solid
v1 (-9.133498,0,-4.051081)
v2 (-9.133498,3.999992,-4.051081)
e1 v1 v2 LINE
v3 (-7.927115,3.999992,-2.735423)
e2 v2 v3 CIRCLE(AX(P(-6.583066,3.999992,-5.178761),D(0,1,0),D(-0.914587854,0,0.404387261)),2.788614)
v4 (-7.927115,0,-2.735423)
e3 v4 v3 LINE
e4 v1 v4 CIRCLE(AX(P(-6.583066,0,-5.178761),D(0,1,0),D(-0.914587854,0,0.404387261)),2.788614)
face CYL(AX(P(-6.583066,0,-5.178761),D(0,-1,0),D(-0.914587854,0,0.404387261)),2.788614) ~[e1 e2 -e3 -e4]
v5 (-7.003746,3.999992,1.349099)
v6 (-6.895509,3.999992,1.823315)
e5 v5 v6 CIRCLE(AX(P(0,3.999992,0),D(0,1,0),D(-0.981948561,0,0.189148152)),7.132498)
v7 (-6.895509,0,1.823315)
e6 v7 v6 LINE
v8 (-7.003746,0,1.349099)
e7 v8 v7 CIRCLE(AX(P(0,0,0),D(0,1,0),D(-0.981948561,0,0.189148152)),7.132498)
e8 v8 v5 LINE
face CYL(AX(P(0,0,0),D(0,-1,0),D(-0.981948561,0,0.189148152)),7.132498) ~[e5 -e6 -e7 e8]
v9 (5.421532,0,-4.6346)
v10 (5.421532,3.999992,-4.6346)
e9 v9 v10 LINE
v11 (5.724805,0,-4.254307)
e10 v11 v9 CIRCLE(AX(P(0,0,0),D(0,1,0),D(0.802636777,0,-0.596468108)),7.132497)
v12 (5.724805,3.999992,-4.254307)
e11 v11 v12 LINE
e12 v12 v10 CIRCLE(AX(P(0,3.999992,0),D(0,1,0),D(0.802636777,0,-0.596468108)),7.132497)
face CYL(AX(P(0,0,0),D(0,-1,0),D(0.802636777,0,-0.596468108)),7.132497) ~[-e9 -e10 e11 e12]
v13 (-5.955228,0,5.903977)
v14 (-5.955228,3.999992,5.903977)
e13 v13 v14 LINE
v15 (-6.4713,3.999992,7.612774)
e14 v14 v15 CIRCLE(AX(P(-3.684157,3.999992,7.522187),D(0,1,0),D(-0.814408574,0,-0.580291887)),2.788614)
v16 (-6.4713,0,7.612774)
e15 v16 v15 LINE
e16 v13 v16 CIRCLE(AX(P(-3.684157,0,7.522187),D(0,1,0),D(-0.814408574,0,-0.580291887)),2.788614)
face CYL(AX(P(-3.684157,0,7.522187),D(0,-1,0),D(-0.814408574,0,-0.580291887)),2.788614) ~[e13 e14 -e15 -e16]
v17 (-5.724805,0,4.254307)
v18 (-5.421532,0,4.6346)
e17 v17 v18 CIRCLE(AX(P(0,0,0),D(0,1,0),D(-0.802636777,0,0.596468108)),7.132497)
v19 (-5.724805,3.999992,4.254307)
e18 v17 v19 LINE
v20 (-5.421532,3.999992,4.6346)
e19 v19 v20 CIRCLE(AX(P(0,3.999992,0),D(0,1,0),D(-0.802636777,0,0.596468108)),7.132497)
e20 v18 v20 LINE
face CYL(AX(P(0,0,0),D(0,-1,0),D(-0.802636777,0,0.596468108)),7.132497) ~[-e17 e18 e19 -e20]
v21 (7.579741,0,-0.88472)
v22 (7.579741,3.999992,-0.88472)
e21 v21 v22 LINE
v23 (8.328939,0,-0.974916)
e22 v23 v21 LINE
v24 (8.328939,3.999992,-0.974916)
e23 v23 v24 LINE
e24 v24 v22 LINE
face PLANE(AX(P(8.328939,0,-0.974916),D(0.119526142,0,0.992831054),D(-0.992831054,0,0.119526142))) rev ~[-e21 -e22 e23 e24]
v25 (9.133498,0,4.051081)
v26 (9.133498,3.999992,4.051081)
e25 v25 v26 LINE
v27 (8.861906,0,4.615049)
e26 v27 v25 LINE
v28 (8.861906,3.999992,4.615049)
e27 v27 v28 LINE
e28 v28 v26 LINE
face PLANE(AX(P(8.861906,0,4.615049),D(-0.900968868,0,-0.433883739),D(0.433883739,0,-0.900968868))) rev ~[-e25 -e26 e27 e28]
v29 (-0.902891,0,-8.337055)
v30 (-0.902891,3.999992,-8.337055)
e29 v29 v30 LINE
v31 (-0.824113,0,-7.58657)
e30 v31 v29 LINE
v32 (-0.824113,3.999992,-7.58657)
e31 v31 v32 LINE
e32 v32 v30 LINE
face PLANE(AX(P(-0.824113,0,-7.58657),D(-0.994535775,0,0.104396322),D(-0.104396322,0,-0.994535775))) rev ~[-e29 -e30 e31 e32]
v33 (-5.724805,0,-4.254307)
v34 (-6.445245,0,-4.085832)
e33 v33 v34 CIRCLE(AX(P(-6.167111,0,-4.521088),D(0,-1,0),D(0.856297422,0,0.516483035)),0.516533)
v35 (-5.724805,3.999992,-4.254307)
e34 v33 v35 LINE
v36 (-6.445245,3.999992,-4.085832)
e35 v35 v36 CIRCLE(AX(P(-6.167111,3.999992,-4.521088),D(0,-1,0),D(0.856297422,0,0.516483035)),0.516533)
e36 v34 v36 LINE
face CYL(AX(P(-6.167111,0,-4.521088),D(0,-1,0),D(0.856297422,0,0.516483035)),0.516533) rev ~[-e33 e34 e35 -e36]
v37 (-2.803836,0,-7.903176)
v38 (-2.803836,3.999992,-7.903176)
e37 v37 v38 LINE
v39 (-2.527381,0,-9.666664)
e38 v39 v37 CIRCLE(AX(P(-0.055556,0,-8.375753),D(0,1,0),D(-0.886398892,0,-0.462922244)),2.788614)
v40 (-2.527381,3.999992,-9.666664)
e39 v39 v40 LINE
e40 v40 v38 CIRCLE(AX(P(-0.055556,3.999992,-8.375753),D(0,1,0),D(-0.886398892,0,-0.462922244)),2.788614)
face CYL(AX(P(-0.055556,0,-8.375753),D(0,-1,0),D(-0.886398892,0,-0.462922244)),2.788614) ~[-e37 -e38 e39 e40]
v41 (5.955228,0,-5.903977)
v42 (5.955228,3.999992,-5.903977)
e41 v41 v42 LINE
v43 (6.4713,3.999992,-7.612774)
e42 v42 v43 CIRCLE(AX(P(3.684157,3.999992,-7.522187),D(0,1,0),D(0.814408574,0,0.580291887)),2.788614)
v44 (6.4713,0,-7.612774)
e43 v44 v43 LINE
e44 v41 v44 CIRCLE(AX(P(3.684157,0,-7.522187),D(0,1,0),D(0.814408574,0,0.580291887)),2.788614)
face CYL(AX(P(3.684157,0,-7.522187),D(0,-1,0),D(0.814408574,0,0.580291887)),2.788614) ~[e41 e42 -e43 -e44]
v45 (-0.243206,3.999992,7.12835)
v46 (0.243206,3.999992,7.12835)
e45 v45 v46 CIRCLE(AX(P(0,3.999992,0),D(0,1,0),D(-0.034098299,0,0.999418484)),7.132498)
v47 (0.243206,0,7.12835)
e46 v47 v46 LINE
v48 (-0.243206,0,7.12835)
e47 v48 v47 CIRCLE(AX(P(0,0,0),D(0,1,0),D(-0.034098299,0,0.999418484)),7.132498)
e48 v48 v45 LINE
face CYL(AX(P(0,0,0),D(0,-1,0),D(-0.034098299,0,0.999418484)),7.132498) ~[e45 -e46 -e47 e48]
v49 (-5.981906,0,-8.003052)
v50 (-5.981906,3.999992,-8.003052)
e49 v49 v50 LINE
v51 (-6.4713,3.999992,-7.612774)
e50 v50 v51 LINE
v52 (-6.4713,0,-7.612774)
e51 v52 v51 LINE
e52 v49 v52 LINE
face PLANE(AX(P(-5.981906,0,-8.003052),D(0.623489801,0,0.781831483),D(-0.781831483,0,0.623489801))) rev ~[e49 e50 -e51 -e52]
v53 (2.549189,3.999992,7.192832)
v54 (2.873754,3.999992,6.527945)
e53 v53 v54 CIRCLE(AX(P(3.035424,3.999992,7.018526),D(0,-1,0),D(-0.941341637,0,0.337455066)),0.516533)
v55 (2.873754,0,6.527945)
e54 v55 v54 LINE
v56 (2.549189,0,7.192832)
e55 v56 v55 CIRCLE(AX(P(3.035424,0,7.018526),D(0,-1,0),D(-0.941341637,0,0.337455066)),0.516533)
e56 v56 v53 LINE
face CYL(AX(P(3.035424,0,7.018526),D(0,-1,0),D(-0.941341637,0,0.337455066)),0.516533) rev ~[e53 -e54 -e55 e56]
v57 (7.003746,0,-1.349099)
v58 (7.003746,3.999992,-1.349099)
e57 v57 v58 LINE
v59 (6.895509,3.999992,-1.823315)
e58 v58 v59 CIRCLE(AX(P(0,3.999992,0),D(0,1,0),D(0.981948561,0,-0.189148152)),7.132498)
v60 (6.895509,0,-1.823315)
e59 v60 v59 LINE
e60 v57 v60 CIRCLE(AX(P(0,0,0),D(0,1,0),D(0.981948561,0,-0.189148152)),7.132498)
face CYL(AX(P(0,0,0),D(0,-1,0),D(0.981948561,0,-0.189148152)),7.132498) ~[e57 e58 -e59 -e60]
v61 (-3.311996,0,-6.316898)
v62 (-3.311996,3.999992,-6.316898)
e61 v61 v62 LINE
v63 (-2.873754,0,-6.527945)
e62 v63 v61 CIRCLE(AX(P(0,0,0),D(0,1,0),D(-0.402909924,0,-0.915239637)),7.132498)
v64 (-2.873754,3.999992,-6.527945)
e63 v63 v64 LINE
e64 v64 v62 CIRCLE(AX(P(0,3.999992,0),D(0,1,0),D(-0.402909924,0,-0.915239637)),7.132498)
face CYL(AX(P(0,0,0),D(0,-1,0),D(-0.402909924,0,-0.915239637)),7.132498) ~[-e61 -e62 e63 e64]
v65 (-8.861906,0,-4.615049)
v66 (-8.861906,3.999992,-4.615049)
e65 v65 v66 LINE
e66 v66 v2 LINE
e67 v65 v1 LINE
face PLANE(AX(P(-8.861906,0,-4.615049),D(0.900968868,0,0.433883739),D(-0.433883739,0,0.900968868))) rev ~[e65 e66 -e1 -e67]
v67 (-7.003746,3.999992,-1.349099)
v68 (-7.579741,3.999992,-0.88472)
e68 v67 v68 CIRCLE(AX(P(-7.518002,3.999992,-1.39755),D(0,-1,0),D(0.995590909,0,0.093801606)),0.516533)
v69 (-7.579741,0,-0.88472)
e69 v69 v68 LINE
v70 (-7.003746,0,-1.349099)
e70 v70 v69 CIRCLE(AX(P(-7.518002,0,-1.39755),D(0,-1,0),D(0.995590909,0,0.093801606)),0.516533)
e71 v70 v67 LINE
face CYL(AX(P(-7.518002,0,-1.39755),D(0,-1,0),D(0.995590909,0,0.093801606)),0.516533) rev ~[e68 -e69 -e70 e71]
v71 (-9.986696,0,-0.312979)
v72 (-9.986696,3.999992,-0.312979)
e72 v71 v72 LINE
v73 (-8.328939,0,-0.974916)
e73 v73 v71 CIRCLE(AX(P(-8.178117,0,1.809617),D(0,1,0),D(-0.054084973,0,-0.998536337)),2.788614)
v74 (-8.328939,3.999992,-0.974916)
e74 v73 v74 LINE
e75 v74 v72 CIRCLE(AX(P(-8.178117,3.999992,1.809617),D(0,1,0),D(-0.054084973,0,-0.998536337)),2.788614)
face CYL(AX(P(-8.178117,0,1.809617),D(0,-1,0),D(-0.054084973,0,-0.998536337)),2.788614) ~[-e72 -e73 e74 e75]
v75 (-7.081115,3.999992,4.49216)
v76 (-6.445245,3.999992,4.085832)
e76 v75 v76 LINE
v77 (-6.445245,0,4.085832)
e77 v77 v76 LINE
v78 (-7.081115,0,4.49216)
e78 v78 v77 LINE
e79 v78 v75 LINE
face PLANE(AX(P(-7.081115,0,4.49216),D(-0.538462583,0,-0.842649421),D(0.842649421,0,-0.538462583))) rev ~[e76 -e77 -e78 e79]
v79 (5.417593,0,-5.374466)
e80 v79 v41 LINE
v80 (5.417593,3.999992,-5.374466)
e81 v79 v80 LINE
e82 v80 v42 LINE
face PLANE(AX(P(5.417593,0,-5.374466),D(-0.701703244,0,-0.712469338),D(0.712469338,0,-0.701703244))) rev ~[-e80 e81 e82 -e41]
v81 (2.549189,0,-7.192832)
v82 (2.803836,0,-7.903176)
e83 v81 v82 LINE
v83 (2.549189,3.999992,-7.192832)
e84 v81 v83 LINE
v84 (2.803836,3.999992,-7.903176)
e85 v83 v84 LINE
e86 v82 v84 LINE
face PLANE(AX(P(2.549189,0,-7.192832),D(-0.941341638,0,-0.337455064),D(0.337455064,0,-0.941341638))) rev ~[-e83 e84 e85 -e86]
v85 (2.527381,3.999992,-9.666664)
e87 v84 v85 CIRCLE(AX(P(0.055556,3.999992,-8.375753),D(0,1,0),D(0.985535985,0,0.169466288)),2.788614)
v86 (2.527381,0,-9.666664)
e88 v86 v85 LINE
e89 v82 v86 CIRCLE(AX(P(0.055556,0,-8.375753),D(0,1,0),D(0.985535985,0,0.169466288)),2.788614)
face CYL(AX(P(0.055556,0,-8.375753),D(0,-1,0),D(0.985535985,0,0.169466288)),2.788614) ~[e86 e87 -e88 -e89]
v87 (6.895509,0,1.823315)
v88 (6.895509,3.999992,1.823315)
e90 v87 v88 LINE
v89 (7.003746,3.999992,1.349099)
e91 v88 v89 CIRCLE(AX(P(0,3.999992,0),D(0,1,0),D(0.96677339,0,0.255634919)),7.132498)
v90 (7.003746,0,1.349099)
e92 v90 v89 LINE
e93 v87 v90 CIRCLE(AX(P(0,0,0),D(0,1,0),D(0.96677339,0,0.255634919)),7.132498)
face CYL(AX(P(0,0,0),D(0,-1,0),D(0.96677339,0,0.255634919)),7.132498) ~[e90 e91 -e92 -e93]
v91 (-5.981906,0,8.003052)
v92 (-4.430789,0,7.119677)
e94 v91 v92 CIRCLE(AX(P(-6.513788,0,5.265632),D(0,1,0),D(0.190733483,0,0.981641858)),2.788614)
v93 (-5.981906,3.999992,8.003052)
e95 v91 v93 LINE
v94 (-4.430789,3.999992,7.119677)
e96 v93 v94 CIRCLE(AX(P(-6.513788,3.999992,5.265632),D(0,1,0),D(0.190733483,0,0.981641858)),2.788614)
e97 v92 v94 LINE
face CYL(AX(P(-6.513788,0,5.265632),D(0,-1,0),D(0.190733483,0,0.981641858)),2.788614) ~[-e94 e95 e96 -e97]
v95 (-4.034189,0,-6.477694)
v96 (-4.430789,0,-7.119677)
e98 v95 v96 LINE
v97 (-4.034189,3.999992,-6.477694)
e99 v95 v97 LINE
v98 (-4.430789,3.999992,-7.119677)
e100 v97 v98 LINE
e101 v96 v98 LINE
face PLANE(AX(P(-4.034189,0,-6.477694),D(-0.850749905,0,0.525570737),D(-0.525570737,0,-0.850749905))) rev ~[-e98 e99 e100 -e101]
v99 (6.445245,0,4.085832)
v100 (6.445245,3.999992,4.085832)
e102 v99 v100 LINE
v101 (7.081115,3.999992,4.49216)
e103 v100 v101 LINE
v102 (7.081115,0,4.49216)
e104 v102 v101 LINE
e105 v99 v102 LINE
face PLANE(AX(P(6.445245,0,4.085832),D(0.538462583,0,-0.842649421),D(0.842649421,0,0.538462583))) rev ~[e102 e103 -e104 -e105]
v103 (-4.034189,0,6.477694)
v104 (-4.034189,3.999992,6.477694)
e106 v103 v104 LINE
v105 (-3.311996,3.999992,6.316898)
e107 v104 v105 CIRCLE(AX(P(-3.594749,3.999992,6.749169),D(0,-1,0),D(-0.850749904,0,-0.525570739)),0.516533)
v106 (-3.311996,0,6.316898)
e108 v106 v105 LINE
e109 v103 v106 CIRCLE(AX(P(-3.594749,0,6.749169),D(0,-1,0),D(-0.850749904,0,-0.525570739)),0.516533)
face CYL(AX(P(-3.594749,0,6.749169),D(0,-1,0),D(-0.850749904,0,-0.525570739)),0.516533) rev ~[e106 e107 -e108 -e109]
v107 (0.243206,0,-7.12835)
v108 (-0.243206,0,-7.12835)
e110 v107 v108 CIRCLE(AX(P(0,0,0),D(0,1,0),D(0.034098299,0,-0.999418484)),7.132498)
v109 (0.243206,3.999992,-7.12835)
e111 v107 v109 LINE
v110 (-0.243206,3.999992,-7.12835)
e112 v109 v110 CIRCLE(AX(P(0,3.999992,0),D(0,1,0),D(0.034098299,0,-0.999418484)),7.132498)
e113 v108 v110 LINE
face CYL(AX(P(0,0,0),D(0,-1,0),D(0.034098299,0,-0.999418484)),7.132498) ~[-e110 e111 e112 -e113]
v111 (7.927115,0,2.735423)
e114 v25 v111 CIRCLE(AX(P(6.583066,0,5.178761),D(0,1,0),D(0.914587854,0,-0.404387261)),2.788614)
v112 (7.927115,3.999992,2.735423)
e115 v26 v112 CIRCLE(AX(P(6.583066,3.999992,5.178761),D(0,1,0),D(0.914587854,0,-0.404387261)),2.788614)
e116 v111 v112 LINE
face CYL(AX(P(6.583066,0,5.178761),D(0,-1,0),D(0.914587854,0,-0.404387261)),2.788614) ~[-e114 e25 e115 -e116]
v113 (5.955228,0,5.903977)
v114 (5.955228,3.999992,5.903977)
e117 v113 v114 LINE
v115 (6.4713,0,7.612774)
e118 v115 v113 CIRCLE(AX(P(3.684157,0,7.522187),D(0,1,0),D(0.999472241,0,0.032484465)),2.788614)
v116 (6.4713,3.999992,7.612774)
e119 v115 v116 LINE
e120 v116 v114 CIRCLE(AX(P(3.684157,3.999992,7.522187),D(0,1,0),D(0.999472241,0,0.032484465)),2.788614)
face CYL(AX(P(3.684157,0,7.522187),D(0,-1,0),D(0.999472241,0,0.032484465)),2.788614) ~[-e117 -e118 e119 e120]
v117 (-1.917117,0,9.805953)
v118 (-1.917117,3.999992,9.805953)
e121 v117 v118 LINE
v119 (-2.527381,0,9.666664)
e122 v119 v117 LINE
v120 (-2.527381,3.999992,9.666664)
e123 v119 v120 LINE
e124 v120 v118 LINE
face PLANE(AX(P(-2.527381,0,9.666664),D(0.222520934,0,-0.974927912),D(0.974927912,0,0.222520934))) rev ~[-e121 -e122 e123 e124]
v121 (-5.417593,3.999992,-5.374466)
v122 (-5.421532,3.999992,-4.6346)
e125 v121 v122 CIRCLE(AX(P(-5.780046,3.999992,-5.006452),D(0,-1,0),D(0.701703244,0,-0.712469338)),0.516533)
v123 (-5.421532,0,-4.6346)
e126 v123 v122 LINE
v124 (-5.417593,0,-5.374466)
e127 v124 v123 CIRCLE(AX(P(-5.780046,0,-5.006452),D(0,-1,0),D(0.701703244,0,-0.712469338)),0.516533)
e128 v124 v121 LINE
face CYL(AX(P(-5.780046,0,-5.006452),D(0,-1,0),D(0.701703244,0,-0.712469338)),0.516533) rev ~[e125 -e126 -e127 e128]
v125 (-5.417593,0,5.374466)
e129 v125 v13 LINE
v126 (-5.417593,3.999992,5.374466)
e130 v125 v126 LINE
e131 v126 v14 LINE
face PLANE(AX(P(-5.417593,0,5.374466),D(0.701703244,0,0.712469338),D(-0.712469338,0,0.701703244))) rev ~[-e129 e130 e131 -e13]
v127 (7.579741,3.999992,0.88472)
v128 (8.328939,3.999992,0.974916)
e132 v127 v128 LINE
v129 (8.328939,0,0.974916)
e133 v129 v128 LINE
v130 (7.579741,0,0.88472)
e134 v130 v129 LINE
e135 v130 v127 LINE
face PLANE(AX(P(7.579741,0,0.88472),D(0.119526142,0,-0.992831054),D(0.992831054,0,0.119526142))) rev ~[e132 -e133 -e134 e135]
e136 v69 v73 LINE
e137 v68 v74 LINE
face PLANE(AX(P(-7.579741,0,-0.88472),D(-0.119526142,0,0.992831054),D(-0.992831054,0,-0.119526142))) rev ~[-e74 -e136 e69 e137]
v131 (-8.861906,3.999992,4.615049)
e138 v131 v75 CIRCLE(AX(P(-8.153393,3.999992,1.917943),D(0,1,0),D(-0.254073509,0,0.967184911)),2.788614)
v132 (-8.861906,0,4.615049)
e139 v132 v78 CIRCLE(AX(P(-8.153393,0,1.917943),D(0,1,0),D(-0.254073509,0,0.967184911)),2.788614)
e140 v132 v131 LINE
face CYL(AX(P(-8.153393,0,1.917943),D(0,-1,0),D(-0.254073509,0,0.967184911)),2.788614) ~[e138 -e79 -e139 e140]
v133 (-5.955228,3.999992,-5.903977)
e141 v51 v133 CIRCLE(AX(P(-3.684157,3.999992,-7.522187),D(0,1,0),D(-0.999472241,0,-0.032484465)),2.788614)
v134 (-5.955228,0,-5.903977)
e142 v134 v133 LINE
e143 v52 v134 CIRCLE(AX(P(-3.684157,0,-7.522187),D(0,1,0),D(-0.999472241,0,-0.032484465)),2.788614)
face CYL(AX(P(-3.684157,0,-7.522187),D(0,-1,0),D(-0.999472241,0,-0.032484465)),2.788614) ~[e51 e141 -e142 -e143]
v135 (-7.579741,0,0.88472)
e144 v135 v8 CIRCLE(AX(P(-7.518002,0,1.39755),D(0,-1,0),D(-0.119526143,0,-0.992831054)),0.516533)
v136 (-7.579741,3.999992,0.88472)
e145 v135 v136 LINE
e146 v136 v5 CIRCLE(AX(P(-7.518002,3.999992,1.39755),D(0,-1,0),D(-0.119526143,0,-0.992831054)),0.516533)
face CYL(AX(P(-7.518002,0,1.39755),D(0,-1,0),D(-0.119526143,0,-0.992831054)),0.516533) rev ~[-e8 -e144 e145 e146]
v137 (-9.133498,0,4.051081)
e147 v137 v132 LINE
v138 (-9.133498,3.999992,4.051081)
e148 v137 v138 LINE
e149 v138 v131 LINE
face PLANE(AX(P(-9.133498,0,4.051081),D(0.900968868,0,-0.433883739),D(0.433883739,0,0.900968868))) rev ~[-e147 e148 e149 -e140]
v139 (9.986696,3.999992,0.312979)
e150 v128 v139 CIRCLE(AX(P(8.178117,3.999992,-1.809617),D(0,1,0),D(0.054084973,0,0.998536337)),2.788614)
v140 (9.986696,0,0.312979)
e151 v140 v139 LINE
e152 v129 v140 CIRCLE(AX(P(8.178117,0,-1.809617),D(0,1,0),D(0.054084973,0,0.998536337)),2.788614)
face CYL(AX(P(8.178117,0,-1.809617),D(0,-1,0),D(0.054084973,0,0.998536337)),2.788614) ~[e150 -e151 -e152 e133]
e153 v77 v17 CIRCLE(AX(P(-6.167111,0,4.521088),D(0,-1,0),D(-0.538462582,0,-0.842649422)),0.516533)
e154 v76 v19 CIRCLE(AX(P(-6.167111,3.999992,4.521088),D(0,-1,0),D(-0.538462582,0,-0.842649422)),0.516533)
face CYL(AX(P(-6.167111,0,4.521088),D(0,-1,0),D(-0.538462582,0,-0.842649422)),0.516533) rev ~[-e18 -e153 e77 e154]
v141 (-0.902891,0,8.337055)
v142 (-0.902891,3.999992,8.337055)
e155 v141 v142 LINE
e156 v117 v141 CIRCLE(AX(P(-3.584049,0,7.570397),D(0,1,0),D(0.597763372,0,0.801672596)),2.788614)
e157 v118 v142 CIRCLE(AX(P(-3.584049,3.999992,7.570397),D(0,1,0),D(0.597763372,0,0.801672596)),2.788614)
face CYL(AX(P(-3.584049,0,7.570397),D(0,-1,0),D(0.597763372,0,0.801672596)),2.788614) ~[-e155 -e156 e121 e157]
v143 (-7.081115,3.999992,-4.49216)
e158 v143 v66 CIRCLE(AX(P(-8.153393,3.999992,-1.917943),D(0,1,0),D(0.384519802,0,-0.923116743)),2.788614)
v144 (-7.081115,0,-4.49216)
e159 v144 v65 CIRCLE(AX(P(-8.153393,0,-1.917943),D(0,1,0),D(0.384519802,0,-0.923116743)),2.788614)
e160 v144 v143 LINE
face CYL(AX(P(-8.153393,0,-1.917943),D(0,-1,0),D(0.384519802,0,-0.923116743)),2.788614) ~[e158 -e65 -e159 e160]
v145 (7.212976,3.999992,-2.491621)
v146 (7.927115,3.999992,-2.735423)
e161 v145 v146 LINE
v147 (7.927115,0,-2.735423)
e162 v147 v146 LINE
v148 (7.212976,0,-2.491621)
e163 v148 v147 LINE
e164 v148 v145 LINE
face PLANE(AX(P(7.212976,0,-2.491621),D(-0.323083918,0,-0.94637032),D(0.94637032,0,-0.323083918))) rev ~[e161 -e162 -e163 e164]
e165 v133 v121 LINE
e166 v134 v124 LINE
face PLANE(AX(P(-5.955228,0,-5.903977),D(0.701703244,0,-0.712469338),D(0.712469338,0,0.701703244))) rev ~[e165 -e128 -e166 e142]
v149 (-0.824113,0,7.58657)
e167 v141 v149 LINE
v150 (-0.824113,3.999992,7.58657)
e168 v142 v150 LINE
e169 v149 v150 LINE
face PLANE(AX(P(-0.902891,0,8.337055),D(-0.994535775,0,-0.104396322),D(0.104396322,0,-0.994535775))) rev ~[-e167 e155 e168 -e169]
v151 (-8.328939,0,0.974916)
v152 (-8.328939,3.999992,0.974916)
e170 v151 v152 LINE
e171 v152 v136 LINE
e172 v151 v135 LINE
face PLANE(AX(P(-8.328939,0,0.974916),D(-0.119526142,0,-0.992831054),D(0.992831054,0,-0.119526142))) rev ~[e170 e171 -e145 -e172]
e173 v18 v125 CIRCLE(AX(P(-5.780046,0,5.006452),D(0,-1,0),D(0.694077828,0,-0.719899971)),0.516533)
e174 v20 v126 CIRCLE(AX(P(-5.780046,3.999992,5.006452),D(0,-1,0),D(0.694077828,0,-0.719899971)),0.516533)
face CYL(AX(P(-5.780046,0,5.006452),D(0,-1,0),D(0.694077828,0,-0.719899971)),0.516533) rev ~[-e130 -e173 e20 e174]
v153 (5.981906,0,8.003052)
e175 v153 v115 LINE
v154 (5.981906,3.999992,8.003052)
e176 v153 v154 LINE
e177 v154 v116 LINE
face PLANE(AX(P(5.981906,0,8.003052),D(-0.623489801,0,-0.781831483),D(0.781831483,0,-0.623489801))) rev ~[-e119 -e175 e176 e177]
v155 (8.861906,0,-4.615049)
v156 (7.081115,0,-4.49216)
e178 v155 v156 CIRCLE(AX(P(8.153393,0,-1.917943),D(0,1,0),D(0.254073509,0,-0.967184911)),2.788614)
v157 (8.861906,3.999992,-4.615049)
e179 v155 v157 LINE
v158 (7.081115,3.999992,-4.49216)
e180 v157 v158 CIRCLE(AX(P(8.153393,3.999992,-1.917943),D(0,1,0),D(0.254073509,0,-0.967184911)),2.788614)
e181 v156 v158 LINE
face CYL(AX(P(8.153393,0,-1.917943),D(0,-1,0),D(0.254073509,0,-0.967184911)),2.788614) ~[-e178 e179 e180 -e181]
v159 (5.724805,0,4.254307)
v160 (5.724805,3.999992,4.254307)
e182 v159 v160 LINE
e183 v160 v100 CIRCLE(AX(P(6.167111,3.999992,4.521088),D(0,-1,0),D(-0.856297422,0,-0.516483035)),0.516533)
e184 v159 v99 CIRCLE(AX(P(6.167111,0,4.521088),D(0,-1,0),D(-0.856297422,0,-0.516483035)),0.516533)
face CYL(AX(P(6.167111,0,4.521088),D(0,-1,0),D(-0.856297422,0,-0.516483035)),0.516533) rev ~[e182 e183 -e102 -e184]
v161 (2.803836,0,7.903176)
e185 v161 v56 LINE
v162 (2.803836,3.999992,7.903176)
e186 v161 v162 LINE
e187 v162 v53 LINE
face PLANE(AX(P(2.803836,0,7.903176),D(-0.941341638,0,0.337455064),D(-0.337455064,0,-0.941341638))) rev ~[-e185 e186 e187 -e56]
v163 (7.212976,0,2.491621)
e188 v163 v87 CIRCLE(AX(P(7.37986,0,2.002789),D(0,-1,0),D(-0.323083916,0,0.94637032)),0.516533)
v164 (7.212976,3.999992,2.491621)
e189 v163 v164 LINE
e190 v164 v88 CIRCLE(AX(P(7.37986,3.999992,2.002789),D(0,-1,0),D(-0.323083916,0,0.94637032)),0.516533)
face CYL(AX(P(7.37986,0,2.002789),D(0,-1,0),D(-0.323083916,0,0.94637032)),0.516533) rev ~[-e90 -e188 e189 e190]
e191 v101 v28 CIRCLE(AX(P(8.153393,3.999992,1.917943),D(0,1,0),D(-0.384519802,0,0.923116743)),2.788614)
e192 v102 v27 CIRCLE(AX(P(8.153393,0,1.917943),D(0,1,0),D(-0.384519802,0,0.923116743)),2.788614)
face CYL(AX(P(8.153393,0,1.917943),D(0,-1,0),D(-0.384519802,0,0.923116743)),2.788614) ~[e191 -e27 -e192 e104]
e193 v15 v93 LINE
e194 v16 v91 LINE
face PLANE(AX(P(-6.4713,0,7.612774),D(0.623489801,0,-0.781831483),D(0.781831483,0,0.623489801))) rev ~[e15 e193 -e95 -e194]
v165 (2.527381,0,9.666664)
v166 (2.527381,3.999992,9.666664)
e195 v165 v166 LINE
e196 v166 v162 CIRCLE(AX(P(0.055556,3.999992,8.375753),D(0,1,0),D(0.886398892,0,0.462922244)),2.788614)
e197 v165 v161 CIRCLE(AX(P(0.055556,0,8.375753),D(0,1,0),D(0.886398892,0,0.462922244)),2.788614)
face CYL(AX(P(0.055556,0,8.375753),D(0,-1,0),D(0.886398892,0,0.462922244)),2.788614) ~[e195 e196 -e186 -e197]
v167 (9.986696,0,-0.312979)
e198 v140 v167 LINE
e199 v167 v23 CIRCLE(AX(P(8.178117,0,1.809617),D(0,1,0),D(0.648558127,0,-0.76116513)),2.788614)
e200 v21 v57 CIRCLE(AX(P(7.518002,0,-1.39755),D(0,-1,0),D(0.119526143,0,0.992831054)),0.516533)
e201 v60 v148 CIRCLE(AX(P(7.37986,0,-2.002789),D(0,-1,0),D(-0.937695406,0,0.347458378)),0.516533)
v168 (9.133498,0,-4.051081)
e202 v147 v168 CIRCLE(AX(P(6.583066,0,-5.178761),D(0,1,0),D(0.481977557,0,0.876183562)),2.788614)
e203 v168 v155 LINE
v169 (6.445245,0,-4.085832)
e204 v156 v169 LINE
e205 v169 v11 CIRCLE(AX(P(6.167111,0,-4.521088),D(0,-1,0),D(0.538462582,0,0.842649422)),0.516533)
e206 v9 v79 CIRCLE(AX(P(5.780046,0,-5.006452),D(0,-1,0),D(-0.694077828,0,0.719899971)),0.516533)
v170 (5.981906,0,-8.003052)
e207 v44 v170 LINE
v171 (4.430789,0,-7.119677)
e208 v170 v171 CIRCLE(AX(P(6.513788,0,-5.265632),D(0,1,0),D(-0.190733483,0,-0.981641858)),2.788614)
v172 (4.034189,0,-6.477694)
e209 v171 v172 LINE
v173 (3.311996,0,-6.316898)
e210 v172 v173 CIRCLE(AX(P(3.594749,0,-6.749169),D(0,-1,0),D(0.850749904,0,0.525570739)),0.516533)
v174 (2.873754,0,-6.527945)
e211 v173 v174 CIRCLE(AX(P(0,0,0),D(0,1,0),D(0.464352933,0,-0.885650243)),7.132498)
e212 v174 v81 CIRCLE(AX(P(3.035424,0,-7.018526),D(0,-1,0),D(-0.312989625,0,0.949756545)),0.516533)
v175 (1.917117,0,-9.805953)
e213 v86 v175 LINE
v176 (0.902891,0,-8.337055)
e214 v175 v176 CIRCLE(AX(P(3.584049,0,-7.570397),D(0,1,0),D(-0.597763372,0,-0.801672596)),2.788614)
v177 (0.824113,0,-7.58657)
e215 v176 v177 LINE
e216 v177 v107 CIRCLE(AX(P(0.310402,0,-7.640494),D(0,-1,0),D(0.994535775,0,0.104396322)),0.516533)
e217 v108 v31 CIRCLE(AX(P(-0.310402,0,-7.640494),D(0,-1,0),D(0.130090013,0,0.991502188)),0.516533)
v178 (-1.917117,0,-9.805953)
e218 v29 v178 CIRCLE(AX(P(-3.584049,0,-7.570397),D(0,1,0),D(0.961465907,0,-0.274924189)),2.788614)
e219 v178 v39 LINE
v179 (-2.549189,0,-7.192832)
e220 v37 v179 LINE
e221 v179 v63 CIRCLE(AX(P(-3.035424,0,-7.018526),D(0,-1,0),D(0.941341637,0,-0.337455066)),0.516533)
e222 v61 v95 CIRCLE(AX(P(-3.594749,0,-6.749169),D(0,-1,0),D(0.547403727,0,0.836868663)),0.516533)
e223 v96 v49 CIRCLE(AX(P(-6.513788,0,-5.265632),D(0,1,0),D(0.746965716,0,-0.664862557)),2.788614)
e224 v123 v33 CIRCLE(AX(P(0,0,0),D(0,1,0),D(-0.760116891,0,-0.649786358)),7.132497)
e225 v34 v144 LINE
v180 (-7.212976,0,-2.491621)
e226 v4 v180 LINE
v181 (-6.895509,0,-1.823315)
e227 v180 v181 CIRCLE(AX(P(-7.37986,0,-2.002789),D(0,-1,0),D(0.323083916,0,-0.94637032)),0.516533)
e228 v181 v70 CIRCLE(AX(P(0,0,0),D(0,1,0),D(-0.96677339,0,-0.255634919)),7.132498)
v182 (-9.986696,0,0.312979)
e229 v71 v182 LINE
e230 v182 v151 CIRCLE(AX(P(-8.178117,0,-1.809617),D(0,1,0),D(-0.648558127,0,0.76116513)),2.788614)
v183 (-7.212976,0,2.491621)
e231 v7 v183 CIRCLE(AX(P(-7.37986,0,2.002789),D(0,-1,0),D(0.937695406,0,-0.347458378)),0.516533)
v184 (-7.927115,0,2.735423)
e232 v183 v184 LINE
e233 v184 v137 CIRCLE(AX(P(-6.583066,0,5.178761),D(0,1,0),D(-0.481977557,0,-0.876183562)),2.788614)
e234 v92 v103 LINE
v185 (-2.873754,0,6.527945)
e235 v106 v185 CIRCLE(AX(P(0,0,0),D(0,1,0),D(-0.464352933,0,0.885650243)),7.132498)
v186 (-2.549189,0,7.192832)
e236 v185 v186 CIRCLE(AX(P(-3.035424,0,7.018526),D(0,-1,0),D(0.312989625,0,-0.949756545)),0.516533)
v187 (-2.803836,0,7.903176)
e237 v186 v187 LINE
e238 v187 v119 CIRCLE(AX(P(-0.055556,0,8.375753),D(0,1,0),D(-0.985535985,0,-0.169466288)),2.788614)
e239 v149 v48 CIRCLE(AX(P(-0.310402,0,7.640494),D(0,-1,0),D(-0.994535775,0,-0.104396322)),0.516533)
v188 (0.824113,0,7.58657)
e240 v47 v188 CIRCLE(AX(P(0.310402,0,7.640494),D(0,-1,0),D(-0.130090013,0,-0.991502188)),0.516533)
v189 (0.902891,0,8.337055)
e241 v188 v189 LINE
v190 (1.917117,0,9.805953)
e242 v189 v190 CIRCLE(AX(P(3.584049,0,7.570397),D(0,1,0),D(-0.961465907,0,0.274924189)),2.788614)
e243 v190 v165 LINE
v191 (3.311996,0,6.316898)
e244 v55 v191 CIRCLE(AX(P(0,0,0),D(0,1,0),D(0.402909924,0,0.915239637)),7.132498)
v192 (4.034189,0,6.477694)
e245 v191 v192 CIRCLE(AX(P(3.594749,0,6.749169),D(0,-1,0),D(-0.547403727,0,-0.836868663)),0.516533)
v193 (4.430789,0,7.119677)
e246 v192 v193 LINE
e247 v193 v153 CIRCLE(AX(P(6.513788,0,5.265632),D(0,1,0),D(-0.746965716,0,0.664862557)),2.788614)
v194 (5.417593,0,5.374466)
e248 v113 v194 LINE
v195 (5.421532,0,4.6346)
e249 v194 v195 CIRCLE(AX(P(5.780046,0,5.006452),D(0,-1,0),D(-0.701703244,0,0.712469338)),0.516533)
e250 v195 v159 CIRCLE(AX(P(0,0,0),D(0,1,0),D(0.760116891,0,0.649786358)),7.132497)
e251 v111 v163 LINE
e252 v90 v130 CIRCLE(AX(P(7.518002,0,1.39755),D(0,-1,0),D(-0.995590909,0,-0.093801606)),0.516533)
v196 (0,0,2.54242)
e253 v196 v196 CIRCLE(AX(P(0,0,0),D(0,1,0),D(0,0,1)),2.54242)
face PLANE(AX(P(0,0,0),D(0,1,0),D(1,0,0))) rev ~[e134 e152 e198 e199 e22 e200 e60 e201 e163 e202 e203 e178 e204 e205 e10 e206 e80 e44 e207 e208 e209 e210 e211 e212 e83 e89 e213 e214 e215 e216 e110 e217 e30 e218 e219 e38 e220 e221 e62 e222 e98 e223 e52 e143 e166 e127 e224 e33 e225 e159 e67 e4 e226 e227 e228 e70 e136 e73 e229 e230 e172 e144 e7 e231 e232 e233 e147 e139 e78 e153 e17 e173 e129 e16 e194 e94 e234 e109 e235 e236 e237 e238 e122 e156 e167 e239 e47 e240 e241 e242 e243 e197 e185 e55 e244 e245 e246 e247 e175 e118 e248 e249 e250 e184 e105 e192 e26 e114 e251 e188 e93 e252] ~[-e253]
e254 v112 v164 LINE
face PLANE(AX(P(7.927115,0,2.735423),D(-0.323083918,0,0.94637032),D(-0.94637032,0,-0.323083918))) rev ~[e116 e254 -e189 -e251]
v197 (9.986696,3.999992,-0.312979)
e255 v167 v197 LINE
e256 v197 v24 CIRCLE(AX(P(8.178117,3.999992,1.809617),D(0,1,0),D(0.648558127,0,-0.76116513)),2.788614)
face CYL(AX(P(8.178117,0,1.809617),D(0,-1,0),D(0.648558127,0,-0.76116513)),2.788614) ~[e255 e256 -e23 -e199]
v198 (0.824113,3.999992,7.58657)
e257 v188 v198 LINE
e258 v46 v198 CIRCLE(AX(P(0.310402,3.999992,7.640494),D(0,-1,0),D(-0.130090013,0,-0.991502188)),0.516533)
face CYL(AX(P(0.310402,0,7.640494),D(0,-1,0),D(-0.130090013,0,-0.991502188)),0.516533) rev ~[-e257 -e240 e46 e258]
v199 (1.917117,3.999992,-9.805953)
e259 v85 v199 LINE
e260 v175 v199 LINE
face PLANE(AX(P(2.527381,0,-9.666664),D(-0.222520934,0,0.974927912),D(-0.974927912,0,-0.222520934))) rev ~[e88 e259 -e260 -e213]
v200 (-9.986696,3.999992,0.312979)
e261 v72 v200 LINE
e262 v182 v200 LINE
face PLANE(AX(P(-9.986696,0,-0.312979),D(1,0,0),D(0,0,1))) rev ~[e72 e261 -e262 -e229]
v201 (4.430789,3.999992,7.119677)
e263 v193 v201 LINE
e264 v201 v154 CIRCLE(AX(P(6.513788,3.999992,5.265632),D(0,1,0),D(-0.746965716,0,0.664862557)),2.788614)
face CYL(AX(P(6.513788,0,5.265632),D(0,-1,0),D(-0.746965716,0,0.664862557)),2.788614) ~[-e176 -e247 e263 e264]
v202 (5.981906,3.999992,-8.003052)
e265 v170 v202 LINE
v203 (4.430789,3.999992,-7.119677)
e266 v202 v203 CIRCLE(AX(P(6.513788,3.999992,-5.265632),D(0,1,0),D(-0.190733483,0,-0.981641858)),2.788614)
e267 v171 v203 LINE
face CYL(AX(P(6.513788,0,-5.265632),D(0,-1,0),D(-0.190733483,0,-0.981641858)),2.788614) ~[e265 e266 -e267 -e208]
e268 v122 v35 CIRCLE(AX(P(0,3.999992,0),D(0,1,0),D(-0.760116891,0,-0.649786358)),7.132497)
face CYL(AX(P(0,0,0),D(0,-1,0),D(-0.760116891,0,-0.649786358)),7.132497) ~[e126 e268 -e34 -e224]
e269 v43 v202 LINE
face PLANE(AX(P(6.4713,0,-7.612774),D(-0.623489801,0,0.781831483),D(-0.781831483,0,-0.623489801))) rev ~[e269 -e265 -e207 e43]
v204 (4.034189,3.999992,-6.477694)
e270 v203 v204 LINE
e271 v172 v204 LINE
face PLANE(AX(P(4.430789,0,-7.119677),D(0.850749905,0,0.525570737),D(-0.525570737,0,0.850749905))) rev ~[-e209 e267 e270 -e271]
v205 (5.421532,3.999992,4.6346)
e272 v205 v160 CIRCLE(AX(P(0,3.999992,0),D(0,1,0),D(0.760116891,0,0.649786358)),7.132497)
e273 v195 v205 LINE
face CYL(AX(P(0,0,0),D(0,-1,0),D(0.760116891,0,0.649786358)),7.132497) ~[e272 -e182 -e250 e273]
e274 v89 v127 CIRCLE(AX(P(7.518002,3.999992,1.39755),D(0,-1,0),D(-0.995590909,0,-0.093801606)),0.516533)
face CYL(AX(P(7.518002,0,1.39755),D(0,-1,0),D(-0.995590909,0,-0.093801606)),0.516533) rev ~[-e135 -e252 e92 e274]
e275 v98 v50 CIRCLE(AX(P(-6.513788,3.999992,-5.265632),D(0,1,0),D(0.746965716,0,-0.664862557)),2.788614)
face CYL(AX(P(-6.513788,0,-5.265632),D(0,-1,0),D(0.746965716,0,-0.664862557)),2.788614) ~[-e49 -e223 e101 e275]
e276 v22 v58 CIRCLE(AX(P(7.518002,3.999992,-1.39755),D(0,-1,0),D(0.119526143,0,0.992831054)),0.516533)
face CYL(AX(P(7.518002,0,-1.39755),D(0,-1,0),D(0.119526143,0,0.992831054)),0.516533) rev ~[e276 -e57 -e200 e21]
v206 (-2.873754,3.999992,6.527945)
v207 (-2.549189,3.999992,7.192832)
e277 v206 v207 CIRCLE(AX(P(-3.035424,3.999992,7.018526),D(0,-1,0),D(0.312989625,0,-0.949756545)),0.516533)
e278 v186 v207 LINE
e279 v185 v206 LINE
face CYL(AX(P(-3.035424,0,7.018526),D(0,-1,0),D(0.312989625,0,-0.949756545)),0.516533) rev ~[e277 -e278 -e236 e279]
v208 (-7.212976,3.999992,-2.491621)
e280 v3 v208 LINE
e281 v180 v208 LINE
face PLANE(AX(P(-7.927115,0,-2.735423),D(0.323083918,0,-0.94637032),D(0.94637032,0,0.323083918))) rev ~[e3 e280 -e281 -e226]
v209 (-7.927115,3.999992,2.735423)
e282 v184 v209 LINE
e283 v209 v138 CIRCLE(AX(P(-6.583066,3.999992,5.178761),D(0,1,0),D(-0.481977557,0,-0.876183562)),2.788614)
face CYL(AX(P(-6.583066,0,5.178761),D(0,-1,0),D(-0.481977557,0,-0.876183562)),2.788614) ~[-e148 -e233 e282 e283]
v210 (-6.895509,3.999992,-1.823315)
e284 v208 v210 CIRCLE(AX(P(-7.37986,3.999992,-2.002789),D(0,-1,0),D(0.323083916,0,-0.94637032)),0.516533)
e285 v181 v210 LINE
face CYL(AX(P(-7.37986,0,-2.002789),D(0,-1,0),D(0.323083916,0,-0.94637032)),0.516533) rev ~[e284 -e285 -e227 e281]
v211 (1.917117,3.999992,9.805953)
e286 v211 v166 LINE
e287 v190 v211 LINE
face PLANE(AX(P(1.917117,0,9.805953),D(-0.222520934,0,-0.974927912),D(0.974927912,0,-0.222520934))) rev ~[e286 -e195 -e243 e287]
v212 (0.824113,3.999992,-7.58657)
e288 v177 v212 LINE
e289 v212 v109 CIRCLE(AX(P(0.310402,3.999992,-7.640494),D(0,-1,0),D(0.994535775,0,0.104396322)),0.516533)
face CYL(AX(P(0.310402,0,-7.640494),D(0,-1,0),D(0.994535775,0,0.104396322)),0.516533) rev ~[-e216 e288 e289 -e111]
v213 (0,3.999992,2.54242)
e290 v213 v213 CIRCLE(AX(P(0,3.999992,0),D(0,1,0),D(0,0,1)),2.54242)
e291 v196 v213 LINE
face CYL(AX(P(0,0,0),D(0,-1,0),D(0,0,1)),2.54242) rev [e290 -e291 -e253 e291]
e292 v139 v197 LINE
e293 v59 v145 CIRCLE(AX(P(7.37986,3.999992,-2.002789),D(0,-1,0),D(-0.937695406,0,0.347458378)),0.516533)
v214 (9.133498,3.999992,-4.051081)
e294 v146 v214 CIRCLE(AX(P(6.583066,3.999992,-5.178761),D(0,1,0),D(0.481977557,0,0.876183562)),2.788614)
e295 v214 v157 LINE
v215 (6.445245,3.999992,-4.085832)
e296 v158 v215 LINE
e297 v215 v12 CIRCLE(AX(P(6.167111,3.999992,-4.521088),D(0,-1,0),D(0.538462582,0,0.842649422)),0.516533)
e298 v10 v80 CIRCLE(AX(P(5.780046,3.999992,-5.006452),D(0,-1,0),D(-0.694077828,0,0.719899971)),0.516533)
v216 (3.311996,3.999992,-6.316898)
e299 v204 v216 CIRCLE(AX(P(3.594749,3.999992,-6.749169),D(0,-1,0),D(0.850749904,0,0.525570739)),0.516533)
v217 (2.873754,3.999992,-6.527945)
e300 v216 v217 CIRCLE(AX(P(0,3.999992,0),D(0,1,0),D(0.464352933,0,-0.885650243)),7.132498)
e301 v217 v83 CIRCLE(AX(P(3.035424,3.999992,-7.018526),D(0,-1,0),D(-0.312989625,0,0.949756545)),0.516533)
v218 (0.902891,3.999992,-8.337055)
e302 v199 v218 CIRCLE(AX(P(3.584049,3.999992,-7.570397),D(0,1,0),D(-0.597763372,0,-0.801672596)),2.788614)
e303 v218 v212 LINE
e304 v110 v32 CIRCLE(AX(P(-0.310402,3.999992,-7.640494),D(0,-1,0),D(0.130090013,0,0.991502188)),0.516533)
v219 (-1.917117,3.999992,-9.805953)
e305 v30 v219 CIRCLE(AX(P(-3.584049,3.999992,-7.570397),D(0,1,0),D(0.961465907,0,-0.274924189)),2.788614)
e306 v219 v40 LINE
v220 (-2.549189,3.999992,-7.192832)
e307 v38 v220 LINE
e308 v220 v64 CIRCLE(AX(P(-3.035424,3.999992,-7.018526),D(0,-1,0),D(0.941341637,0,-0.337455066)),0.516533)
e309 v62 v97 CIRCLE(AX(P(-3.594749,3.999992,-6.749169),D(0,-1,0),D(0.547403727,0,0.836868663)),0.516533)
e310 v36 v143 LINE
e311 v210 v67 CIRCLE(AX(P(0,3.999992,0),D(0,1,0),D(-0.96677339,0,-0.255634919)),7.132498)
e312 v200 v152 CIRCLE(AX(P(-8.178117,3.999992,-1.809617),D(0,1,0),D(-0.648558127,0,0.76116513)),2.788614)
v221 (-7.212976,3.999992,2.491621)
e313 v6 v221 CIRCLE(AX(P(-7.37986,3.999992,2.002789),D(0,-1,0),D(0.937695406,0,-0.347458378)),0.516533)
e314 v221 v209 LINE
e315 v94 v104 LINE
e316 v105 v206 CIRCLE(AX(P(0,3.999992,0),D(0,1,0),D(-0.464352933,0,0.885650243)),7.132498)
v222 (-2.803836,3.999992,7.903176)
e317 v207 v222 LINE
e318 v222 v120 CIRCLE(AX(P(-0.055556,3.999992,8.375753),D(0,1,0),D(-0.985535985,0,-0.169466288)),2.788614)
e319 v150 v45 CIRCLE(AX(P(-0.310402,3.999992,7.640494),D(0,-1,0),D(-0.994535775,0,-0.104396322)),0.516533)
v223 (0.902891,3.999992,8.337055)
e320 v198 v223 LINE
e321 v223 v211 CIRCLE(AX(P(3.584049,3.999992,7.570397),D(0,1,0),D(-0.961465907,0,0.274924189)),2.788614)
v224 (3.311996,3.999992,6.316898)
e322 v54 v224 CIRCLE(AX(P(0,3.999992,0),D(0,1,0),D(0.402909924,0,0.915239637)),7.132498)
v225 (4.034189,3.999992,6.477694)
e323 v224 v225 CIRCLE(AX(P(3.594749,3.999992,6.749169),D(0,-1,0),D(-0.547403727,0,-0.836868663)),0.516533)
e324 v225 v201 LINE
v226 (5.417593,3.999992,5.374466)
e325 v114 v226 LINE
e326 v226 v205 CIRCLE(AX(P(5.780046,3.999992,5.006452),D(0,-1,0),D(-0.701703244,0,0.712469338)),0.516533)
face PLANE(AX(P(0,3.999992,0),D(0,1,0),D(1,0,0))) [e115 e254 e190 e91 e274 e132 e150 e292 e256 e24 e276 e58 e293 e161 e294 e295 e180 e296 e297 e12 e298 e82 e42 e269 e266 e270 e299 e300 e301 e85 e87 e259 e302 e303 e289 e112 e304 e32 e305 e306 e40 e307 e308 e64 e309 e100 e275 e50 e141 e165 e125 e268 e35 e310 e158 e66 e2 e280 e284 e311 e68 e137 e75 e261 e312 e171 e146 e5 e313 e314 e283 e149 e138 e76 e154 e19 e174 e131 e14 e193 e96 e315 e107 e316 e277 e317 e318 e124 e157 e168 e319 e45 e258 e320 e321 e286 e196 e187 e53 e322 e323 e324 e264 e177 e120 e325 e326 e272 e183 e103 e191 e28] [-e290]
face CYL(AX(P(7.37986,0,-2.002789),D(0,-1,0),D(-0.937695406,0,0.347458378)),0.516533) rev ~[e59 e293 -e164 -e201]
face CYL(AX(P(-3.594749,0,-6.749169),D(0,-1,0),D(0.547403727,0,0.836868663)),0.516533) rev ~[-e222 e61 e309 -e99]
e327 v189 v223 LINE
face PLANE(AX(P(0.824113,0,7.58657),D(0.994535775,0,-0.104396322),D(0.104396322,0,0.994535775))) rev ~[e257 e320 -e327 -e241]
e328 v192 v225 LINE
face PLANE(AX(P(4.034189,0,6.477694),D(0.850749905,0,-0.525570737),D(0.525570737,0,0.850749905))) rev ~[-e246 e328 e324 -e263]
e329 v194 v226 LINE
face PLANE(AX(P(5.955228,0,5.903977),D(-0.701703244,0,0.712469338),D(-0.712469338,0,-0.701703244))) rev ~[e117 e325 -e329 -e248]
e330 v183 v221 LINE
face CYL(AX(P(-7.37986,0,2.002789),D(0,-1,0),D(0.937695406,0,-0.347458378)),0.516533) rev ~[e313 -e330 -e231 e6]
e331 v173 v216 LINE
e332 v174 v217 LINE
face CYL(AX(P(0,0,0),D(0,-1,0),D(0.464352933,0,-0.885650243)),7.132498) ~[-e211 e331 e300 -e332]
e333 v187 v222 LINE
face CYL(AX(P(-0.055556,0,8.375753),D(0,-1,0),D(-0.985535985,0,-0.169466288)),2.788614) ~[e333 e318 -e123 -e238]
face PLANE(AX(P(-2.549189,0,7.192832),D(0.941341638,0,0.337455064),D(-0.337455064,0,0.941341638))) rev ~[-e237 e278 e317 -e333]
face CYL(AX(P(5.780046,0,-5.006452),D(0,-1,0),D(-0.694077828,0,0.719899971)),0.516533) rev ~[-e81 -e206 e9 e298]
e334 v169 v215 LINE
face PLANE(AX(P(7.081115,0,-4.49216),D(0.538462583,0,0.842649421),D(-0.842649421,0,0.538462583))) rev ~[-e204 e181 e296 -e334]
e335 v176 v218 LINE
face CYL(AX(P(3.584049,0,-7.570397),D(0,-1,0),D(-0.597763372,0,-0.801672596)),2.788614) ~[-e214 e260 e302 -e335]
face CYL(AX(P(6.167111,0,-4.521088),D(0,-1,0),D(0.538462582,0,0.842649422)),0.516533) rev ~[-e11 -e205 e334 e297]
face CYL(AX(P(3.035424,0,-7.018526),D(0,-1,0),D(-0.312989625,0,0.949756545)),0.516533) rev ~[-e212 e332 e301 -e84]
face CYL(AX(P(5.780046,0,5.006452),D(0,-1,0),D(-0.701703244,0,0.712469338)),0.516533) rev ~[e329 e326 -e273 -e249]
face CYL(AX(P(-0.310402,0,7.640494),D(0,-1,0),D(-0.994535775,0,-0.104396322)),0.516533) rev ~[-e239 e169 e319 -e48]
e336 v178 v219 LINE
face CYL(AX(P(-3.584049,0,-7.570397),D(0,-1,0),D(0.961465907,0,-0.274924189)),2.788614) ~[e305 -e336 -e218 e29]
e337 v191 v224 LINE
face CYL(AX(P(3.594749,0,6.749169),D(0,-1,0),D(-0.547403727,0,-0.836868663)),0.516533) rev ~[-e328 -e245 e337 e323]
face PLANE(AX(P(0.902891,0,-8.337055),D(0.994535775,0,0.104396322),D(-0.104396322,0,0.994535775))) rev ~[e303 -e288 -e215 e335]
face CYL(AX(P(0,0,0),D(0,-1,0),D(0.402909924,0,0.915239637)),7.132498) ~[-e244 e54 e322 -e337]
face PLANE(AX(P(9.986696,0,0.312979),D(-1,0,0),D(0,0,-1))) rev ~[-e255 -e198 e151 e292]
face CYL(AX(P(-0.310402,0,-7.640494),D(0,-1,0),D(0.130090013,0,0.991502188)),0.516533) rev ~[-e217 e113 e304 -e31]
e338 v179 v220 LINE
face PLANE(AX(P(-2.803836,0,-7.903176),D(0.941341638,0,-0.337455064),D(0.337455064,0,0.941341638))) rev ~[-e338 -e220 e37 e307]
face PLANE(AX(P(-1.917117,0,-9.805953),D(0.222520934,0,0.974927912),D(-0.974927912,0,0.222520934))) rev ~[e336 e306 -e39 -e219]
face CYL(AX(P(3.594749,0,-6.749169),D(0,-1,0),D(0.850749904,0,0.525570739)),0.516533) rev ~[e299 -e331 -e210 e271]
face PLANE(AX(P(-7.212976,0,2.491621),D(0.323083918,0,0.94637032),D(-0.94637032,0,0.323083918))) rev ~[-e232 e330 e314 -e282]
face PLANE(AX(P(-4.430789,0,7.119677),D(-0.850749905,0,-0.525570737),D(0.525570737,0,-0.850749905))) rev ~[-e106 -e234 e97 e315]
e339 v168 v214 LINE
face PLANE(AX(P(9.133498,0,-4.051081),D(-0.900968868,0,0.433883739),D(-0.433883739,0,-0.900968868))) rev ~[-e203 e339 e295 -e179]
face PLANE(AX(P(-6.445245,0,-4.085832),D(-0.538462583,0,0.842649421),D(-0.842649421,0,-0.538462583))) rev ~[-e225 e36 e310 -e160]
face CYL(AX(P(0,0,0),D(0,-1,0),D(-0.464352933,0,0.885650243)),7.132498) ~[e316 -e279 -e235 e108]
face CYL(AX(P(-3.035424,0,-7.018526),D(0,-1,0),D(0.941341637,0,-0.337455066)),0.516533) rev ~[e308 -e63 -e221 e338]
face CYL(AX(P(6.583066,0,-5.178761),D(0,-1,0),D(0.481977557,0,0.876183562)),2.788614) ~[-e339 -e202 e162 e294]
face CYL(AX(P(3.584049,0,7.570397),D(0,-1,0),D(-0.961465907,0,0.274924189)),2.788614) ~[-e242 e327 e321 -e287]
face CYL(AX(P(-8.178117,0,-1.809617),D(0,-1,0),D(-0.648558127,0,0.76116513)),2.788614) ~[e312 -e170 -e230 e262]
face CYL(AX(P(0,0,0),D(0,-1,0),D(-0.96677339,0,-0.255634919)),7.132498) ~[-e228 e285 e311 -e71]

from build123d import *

# Parameters (mm, degrees)
SKETCH1_R           = 2.542419914
BOSS_EXTRUDE1_DEPTH = 3.999992


with BuildPart() as part:
    # Sketch1 → Boss-Extrude1 (new body)
    with BuildSketch(Plane(origin=(0, 0, 0), x_dir=(1, 0, 0), z_dir=(0, 1, 0))):
        with BuildLine():
            Line((-7.927115113, 2.735422797), (-7.212976361, 2.491621041))
            ThreePointArc((-7.212976361, 2.491621041), (-6.913293064, 2.224424018), (-6.895509083, 1.823315483))
            ThreePointArc((-6.895509083, 1.823315483), (-6.953671189, 1.587130072), (-7.003745952, 1.349098778))
            ThreePointArc((-7.003745952, 1.349098778), (-7.193803236, 0.995428655), (-7.579741, 0.884720165))
            Line((-7.579741, 0.884720165), (-8.3289394, 0.974915565))
            ThreePointArc((-8.3289394, 0.974915565), (-9.212212433, 0.780173764), (-9.9866958, 0.3129788))
            Line((-9.9866958, 0.3129788), (-9.9866958, -0.3129788))
            ThreePointArc((-9.9866958, -0.3129788), (-9.212212433, -0.780173764), (-8.3289394, -0.974915565))
            Line((-8.3289394, -0.974915565), (-7.579741, -0.884720165))
            ThreePointArc((-7.579741, -0.884720165), (-7.193803236, -0.995428655), (-7.003745952, -1.349098778))
            ThreePointArc((-7.003745952, -1.349098778), (-6.953671189, -1.587130072), (-6.895509083, -1.823315483))
            ThreePointArc((-6.895509083, -1.823315483), (-6.913293064, -2.224424018), (-7.212976361, -2.491621041))
            Line((-7.212976361, -2.491621041), (-7.927115113, -2.735422797))
            ThreePointArc((-7.927115113, -2.735422797), (-8.638421316, -3.294116903), (-9.133498421, -4.05108076))
            Line((-9.133498421, -4.05108076), (-8.861905597, -4.61504907))
            ThreePointArc((-8.861905597, -4.61504907), (-7.961411897, -4.699941449), (-7.081115091, -4.492159943))
            Line((-7.081115091, -4.492159943), (-6.445244975, -4.085831692))
            ThreePointArc((-6.445244975, -4.085831692), (-6.049492451, -4.018124475), (-5.724805039, -4.25430748))
            ThreePointArc((-5.724805039, -4.25430748), (-5.576411329, -4.44703964), (-5.421532073, -4.63459975))
            ThreePointArc((-5.421532073, -4.63459975), (-5.263520415, -5.003702234), (-5.417593292, -5.374466142))
            Line((-5.417593292, -5.374466142), (-5.955228458, -5.903977126))
            ThreePointArc((-5.955228458, -5.903977126), (-6.353684915, -6.715967318), (-6.471299665, -7.612774092))
            Line((-6.471299665, -7.612774092), (-5.981906306, -8.003052272))
            ThreePointArc((-5.981906306, -8.003052272), (-5.133756094, -7.688828089), (-4.430789095, -7.119676951))
            Line((-4.430789095, -7.119676951), (-4.034189136, -6.477694143))
            ThreePointArc((-4.034189136, -6.477694143), (-3.707005493, -6.244981464), (-3.311996278, -6.31689841))
            ThreePointArc((-3.311996278, -6.31689841), (-3.094674815, -6.426158468), (-2.873754145, -6.527944698))
            ThreePointArc((-2.873754145, -6.527944698), (-2.571242995, -6.791935856), (-2.54918943, -7.192832311))
            Line((-2.54918943, -7.192832311), (-2.80383577, -7.903176378))
            ThreePointArc((-2.80383577, -7.903176378), (-2.810523293, -8.807638039), (-2.527380645, -9.666664151))
            Line((-2.527380645, -9.666664151), (-1.917117109, -9.805952821))
            ThreePointArc((-1.917117109, -9.805952821), (-1.289296936, -9.154848028), (-0.902890978, -8.337054622))
            Line((-0.902890978, -8.337054622), (-0.824112663, -7.586569825))
            ThreePointArc((-0.824112663, -7.586569825), (-0.630300635, -7.234943284), (-0.243206036, -7.128350138))
            ThreePointArc((-0.243206036, -7.128350138), (0, -7.1324978), (0.243206036, -7.128350138))
            ThreePointArc((0.243206036, -7.128350138), (0.630300635, -7.234943284), (0.824112663, -7.586569825))
            Line((0.824112663, -7.586569825), (0.902890978, -8.337054622))
            ThreePointArc((0.902890978, -8.337054622), (1.289296936, -9.154848028), (1.917117109, -9.805952821))
            Line((1.917117109, -9.805952821), (2.527380645, -9.666664151))
            ThreePointArc((2.527380645, -9.666664151), (2.810523293, -8.807638039), (2.80383577, -7.903176378))
            Line((2.80383577, -7.903176378), (2.54918943, -7.192832311))
            ThreePointArc((2.54918943, -7.192832311), (2.571242995, -6.791935856), (2.873754145, -6.527944698))
            ThreePointArc((2.873754145, -6.527944698), (3.094674815, -6.426158468), (3.311996278, -6.31689841))
            ThreePointArc((3.311996278, -6.31689841), (3.707005493, -6.244981464), (4.034189136, -6.477694143))
            Line((4.034189136, -6.477694143), (4.430789095, -7.119676951))
            ThreePointArc((4.430789095, -7.119676951), (5.133756094, -7.688828089), (5.981906306, -8.003052272))
            Line((5.981906306, -8.003052272), (6.471299665, -7.612774092))
            ThreePointArc((6.471299665, -7.612774092), (6.353684915, -6.715967318), (5.955228458, -5.903977126))
            Line((5.955228458, -5.903977126), (5.417593292, -5.374466142))
            ThreePointArc((5.417593292, -5.374466142), (5.263520415, -5.003702234), (5.421532073, -4.63459975))
            ThreePointArc((5.421532073, -4.63459975), (5.576411329, -4.44703964), (5.724805039, -4.25430748))
            ThreePointArc((5.724805039, -4.25430748), (6.049492451, -4.018124475), (6.445244975, -4.085831692))
            Line((6.445244975, -4.085831692), (7.081115091, -4.492159943))
            ThreePointArc((7.081115091, -4.492159943), (7.961411897, -4.699941449), (8.861905597, -4.61504907))
            Line((8.861905597, -4.61504907), (9.133498421, -4.05108076))
            ThreePointArc((9.133498421, -4.05108076), (8.638421316, -3.294116903), (7.927115113, -2.735422797))
            Line((7.927115113, -2.735422797), (7.212976361, -2.491621041))
            ThreePointArc((7.212976361, -2.491621041), (6.913293064, -2.224424018), (6.895509083, -1.823315483))
            ThreePointArc((6.895509083, -1.823315483), (6.953671189, -1.587130072), (7.003745952, -1.349098778))
            ThreePointArc((7.003745952, -1.349098778), (7.193803236, -0.995428655), (7.579741, -0.884720165))
            Line((7.579741, -0.884720165), (8.3289394, -0.974915565))
            ThreePointArc((8.3289394, -0.974915565), (9.212212433, -0.780173764), (9.9866958, -0.3129788))
            Line((9.9866958, -0.3129788), (9.9866958, 0.3129788))
            ThreePointArc((9.9866958, 0.3129788), (9.212212433, 0.780173764), (8.3289394, 0.974915565))
            Line((8.3289394, 0.974915565), (7.579741, 0.884720165))
            ThreePointArc((7.579741, 0.884720165), (7.193803236, 0.995428655), (7.003745952, 1.349098778))
            ThreePointArc((7.003745952, 1.349098778), (6.953671189, 1.587130072), (6.895509083, 1.823315483))
            ThreePointArc((6.895509083, 1.823315483), (6.913293064, 2.224424018), (7.212976361, 2.491621041))
            Line((7.212976361, 2.491621041), (7.927115113, 2.735422797))
            ThreePointArc((7.927115113, 2.735422797), (8.638421316, 3.294116903), (9.133498421, 4.05108076))
            Line((9.133498421, 4.05108076), (8.861905597, 4.61504907))
            ThreePointArc((8.861905597, 4.61504907), (7.961411897, 4.699941449), (7.081115091, 4.492159943))
            Line((7.081115091, 4.492159943), (6.445244975, 4.085831692))
            ThreePointArc((6.445244975, 4.085831692), (6.049492451, 4.018124475), (5.724805039, 4.25430748))
            ThreePointArc((5.724805039, 4.25430748), (5.576411329, 4.44703964), (5.421532073, 4.63459975))
            ThreePointArc((5.421532073, 4.63459975), (5.263520415, 5.003702234), (5.417593292, 5.374466142))
            Line((5.417593292, 5.374466142), (5.955228458, 5.903977126))
            ThreePointArc((5.955228458, 5.903977126), (6.353684915, 6.715967318), (6.471299665, 7.612774092))
            Line((6.471299665, 7.612774092), (5.981906306, 8.003052272))
            ThreePointArc((5.981906306, 8.003052272), (5.133756094, 7.688828089), (4.430789095, 7.119676951))
            Line((4.430789095, 7.119676951), (4.034189136, 6.477694143))
            ThreePointArc((4.034189136, 6.477694143), (3.707005493, 6.244981464), (3.311996278, 6.31689841))
            ThreePointArc((3.311996278, 6.31689841), (3.094674815, 6.426158468), (2.873754145, 6.527944698))
            ThreePointArc((2.873754145, 6.527944698), (2.571242995, 6.791935856), (2.54918943, 7.192832311))
            Line((2.54918943, 7.192832311), (2.80383577, 7.903176378))
            ThreePointArc((2.80383577, 7.903176378), (2.810523293, 8.807638039), (2.527380645, 9.666664151))
            Line((2.527380645, 9.666664151), (1.917117109, 9.805952821))
            ThreePointArc((1.917117109, 9.805952821), (1.289296936, 9.154848028), (0.902890978, 8.337054622))
            Line((0.902890978, 8.337054622), (0.824112663, 7.586569825))
            ThreePointArc((0.824112663, 7.586569825), (0.630300635, 7.234943284), (0.243206036, 7.128350138))
            ThreePointArc((0.243206036, 7.128350138), (0, 7.1324978), (-0.243206036, 7.128350138))
            ThreePointArc((-0.243206036, 7.128350138), (-0.630300635, 7.234943284), (-0.824112663, 7.586569825))
            Line((-0.824112663, 7.586569825), (-0.902890978, 8.337054622))
            ThreePointArc((-0.902890978, 8.337054622), (-1.289296936, 9.154848028), (-1.917117109, 9.805952821))
            Line((-1.917117109, 9.805952821), (-2.527380645, 9.666664151))
            ThreePointArc((-2.527380645, 9.666664151), (-2.810523293, 8.807638039), (-2.80383577, 7.903176378))
            Line((-2.80383577, 7.903176378), (-2.54918943, 7.192832311))
            ThreePointArc((-2.54918943, 7.192832311), (-2.571242995, 6.791935856), (-2.873754145, 6.527944698))
            ThreePointArc((-2.873754145, 6.527944698), (-3.094674815, 6.426158468), (-3.311996278, 6.31689841))
            ThreePointArc((-3.311996278, 6.31689841), (-3.707005493, 6.244981464), (-4.034189136, 6.477694143))
            Line((-4.034189136, 6.477694143), (-4.430789095, 7.119676951))
            ThreePointArc((-4.430789095, 7.119676951), (-5.133756094, 7.688828089), (-5.981906306, 8.003052272))
            Line((-5.981906306, 8.003052272), (-6.471299665, 7.612774092))
            ThreePointArc((-6.471299665, 7.612774092), (-6.353684915, 6.715967318), (-5.955228458, 5.903977126))
            Line((-5.955228458, 5.903977126), (-5.417593292, 5.374466142))
            ThreePointArc((-5.417593292, 5.374466142), (-5.263520415, 5.003702234), (-5.421532073, 4.63459975))
            ThreePointArc((-5.421532073, 4.63459975), (-5.576411329, 4.44703964), (-5.724805039, 4.25430748))
            ThreePointArc((-5.724805039, 4.25430748), (-6.049492451, 4.018124475), (-6.445244975, 4.085831692))
            Line((-6.445244975, 4.085831692), (-7.081115091, 4.492159943))
            ThreePointArc((-7.081115091, 4.492159943), (-7.961411897, 4.699941449), (-8.861905597, 4.61504907))
            Line((-8.861905597, 4.61504907), (-9.133498421, 4.05108076))
            ThreePointArc((-9.133498421, 4.05108076), (-8.638421316, 3.294116903), (-7.927115113, 2.735422797))
        make_face()
        with Locations(Location((0, 0, 0), (0, 0, 270))):
            Circle(SKETCH1_R, mode=Mode.SUBTRACT)
    extrude(amount=BOSS_EXTRUDE1_DEPTH)


solid = part.part
